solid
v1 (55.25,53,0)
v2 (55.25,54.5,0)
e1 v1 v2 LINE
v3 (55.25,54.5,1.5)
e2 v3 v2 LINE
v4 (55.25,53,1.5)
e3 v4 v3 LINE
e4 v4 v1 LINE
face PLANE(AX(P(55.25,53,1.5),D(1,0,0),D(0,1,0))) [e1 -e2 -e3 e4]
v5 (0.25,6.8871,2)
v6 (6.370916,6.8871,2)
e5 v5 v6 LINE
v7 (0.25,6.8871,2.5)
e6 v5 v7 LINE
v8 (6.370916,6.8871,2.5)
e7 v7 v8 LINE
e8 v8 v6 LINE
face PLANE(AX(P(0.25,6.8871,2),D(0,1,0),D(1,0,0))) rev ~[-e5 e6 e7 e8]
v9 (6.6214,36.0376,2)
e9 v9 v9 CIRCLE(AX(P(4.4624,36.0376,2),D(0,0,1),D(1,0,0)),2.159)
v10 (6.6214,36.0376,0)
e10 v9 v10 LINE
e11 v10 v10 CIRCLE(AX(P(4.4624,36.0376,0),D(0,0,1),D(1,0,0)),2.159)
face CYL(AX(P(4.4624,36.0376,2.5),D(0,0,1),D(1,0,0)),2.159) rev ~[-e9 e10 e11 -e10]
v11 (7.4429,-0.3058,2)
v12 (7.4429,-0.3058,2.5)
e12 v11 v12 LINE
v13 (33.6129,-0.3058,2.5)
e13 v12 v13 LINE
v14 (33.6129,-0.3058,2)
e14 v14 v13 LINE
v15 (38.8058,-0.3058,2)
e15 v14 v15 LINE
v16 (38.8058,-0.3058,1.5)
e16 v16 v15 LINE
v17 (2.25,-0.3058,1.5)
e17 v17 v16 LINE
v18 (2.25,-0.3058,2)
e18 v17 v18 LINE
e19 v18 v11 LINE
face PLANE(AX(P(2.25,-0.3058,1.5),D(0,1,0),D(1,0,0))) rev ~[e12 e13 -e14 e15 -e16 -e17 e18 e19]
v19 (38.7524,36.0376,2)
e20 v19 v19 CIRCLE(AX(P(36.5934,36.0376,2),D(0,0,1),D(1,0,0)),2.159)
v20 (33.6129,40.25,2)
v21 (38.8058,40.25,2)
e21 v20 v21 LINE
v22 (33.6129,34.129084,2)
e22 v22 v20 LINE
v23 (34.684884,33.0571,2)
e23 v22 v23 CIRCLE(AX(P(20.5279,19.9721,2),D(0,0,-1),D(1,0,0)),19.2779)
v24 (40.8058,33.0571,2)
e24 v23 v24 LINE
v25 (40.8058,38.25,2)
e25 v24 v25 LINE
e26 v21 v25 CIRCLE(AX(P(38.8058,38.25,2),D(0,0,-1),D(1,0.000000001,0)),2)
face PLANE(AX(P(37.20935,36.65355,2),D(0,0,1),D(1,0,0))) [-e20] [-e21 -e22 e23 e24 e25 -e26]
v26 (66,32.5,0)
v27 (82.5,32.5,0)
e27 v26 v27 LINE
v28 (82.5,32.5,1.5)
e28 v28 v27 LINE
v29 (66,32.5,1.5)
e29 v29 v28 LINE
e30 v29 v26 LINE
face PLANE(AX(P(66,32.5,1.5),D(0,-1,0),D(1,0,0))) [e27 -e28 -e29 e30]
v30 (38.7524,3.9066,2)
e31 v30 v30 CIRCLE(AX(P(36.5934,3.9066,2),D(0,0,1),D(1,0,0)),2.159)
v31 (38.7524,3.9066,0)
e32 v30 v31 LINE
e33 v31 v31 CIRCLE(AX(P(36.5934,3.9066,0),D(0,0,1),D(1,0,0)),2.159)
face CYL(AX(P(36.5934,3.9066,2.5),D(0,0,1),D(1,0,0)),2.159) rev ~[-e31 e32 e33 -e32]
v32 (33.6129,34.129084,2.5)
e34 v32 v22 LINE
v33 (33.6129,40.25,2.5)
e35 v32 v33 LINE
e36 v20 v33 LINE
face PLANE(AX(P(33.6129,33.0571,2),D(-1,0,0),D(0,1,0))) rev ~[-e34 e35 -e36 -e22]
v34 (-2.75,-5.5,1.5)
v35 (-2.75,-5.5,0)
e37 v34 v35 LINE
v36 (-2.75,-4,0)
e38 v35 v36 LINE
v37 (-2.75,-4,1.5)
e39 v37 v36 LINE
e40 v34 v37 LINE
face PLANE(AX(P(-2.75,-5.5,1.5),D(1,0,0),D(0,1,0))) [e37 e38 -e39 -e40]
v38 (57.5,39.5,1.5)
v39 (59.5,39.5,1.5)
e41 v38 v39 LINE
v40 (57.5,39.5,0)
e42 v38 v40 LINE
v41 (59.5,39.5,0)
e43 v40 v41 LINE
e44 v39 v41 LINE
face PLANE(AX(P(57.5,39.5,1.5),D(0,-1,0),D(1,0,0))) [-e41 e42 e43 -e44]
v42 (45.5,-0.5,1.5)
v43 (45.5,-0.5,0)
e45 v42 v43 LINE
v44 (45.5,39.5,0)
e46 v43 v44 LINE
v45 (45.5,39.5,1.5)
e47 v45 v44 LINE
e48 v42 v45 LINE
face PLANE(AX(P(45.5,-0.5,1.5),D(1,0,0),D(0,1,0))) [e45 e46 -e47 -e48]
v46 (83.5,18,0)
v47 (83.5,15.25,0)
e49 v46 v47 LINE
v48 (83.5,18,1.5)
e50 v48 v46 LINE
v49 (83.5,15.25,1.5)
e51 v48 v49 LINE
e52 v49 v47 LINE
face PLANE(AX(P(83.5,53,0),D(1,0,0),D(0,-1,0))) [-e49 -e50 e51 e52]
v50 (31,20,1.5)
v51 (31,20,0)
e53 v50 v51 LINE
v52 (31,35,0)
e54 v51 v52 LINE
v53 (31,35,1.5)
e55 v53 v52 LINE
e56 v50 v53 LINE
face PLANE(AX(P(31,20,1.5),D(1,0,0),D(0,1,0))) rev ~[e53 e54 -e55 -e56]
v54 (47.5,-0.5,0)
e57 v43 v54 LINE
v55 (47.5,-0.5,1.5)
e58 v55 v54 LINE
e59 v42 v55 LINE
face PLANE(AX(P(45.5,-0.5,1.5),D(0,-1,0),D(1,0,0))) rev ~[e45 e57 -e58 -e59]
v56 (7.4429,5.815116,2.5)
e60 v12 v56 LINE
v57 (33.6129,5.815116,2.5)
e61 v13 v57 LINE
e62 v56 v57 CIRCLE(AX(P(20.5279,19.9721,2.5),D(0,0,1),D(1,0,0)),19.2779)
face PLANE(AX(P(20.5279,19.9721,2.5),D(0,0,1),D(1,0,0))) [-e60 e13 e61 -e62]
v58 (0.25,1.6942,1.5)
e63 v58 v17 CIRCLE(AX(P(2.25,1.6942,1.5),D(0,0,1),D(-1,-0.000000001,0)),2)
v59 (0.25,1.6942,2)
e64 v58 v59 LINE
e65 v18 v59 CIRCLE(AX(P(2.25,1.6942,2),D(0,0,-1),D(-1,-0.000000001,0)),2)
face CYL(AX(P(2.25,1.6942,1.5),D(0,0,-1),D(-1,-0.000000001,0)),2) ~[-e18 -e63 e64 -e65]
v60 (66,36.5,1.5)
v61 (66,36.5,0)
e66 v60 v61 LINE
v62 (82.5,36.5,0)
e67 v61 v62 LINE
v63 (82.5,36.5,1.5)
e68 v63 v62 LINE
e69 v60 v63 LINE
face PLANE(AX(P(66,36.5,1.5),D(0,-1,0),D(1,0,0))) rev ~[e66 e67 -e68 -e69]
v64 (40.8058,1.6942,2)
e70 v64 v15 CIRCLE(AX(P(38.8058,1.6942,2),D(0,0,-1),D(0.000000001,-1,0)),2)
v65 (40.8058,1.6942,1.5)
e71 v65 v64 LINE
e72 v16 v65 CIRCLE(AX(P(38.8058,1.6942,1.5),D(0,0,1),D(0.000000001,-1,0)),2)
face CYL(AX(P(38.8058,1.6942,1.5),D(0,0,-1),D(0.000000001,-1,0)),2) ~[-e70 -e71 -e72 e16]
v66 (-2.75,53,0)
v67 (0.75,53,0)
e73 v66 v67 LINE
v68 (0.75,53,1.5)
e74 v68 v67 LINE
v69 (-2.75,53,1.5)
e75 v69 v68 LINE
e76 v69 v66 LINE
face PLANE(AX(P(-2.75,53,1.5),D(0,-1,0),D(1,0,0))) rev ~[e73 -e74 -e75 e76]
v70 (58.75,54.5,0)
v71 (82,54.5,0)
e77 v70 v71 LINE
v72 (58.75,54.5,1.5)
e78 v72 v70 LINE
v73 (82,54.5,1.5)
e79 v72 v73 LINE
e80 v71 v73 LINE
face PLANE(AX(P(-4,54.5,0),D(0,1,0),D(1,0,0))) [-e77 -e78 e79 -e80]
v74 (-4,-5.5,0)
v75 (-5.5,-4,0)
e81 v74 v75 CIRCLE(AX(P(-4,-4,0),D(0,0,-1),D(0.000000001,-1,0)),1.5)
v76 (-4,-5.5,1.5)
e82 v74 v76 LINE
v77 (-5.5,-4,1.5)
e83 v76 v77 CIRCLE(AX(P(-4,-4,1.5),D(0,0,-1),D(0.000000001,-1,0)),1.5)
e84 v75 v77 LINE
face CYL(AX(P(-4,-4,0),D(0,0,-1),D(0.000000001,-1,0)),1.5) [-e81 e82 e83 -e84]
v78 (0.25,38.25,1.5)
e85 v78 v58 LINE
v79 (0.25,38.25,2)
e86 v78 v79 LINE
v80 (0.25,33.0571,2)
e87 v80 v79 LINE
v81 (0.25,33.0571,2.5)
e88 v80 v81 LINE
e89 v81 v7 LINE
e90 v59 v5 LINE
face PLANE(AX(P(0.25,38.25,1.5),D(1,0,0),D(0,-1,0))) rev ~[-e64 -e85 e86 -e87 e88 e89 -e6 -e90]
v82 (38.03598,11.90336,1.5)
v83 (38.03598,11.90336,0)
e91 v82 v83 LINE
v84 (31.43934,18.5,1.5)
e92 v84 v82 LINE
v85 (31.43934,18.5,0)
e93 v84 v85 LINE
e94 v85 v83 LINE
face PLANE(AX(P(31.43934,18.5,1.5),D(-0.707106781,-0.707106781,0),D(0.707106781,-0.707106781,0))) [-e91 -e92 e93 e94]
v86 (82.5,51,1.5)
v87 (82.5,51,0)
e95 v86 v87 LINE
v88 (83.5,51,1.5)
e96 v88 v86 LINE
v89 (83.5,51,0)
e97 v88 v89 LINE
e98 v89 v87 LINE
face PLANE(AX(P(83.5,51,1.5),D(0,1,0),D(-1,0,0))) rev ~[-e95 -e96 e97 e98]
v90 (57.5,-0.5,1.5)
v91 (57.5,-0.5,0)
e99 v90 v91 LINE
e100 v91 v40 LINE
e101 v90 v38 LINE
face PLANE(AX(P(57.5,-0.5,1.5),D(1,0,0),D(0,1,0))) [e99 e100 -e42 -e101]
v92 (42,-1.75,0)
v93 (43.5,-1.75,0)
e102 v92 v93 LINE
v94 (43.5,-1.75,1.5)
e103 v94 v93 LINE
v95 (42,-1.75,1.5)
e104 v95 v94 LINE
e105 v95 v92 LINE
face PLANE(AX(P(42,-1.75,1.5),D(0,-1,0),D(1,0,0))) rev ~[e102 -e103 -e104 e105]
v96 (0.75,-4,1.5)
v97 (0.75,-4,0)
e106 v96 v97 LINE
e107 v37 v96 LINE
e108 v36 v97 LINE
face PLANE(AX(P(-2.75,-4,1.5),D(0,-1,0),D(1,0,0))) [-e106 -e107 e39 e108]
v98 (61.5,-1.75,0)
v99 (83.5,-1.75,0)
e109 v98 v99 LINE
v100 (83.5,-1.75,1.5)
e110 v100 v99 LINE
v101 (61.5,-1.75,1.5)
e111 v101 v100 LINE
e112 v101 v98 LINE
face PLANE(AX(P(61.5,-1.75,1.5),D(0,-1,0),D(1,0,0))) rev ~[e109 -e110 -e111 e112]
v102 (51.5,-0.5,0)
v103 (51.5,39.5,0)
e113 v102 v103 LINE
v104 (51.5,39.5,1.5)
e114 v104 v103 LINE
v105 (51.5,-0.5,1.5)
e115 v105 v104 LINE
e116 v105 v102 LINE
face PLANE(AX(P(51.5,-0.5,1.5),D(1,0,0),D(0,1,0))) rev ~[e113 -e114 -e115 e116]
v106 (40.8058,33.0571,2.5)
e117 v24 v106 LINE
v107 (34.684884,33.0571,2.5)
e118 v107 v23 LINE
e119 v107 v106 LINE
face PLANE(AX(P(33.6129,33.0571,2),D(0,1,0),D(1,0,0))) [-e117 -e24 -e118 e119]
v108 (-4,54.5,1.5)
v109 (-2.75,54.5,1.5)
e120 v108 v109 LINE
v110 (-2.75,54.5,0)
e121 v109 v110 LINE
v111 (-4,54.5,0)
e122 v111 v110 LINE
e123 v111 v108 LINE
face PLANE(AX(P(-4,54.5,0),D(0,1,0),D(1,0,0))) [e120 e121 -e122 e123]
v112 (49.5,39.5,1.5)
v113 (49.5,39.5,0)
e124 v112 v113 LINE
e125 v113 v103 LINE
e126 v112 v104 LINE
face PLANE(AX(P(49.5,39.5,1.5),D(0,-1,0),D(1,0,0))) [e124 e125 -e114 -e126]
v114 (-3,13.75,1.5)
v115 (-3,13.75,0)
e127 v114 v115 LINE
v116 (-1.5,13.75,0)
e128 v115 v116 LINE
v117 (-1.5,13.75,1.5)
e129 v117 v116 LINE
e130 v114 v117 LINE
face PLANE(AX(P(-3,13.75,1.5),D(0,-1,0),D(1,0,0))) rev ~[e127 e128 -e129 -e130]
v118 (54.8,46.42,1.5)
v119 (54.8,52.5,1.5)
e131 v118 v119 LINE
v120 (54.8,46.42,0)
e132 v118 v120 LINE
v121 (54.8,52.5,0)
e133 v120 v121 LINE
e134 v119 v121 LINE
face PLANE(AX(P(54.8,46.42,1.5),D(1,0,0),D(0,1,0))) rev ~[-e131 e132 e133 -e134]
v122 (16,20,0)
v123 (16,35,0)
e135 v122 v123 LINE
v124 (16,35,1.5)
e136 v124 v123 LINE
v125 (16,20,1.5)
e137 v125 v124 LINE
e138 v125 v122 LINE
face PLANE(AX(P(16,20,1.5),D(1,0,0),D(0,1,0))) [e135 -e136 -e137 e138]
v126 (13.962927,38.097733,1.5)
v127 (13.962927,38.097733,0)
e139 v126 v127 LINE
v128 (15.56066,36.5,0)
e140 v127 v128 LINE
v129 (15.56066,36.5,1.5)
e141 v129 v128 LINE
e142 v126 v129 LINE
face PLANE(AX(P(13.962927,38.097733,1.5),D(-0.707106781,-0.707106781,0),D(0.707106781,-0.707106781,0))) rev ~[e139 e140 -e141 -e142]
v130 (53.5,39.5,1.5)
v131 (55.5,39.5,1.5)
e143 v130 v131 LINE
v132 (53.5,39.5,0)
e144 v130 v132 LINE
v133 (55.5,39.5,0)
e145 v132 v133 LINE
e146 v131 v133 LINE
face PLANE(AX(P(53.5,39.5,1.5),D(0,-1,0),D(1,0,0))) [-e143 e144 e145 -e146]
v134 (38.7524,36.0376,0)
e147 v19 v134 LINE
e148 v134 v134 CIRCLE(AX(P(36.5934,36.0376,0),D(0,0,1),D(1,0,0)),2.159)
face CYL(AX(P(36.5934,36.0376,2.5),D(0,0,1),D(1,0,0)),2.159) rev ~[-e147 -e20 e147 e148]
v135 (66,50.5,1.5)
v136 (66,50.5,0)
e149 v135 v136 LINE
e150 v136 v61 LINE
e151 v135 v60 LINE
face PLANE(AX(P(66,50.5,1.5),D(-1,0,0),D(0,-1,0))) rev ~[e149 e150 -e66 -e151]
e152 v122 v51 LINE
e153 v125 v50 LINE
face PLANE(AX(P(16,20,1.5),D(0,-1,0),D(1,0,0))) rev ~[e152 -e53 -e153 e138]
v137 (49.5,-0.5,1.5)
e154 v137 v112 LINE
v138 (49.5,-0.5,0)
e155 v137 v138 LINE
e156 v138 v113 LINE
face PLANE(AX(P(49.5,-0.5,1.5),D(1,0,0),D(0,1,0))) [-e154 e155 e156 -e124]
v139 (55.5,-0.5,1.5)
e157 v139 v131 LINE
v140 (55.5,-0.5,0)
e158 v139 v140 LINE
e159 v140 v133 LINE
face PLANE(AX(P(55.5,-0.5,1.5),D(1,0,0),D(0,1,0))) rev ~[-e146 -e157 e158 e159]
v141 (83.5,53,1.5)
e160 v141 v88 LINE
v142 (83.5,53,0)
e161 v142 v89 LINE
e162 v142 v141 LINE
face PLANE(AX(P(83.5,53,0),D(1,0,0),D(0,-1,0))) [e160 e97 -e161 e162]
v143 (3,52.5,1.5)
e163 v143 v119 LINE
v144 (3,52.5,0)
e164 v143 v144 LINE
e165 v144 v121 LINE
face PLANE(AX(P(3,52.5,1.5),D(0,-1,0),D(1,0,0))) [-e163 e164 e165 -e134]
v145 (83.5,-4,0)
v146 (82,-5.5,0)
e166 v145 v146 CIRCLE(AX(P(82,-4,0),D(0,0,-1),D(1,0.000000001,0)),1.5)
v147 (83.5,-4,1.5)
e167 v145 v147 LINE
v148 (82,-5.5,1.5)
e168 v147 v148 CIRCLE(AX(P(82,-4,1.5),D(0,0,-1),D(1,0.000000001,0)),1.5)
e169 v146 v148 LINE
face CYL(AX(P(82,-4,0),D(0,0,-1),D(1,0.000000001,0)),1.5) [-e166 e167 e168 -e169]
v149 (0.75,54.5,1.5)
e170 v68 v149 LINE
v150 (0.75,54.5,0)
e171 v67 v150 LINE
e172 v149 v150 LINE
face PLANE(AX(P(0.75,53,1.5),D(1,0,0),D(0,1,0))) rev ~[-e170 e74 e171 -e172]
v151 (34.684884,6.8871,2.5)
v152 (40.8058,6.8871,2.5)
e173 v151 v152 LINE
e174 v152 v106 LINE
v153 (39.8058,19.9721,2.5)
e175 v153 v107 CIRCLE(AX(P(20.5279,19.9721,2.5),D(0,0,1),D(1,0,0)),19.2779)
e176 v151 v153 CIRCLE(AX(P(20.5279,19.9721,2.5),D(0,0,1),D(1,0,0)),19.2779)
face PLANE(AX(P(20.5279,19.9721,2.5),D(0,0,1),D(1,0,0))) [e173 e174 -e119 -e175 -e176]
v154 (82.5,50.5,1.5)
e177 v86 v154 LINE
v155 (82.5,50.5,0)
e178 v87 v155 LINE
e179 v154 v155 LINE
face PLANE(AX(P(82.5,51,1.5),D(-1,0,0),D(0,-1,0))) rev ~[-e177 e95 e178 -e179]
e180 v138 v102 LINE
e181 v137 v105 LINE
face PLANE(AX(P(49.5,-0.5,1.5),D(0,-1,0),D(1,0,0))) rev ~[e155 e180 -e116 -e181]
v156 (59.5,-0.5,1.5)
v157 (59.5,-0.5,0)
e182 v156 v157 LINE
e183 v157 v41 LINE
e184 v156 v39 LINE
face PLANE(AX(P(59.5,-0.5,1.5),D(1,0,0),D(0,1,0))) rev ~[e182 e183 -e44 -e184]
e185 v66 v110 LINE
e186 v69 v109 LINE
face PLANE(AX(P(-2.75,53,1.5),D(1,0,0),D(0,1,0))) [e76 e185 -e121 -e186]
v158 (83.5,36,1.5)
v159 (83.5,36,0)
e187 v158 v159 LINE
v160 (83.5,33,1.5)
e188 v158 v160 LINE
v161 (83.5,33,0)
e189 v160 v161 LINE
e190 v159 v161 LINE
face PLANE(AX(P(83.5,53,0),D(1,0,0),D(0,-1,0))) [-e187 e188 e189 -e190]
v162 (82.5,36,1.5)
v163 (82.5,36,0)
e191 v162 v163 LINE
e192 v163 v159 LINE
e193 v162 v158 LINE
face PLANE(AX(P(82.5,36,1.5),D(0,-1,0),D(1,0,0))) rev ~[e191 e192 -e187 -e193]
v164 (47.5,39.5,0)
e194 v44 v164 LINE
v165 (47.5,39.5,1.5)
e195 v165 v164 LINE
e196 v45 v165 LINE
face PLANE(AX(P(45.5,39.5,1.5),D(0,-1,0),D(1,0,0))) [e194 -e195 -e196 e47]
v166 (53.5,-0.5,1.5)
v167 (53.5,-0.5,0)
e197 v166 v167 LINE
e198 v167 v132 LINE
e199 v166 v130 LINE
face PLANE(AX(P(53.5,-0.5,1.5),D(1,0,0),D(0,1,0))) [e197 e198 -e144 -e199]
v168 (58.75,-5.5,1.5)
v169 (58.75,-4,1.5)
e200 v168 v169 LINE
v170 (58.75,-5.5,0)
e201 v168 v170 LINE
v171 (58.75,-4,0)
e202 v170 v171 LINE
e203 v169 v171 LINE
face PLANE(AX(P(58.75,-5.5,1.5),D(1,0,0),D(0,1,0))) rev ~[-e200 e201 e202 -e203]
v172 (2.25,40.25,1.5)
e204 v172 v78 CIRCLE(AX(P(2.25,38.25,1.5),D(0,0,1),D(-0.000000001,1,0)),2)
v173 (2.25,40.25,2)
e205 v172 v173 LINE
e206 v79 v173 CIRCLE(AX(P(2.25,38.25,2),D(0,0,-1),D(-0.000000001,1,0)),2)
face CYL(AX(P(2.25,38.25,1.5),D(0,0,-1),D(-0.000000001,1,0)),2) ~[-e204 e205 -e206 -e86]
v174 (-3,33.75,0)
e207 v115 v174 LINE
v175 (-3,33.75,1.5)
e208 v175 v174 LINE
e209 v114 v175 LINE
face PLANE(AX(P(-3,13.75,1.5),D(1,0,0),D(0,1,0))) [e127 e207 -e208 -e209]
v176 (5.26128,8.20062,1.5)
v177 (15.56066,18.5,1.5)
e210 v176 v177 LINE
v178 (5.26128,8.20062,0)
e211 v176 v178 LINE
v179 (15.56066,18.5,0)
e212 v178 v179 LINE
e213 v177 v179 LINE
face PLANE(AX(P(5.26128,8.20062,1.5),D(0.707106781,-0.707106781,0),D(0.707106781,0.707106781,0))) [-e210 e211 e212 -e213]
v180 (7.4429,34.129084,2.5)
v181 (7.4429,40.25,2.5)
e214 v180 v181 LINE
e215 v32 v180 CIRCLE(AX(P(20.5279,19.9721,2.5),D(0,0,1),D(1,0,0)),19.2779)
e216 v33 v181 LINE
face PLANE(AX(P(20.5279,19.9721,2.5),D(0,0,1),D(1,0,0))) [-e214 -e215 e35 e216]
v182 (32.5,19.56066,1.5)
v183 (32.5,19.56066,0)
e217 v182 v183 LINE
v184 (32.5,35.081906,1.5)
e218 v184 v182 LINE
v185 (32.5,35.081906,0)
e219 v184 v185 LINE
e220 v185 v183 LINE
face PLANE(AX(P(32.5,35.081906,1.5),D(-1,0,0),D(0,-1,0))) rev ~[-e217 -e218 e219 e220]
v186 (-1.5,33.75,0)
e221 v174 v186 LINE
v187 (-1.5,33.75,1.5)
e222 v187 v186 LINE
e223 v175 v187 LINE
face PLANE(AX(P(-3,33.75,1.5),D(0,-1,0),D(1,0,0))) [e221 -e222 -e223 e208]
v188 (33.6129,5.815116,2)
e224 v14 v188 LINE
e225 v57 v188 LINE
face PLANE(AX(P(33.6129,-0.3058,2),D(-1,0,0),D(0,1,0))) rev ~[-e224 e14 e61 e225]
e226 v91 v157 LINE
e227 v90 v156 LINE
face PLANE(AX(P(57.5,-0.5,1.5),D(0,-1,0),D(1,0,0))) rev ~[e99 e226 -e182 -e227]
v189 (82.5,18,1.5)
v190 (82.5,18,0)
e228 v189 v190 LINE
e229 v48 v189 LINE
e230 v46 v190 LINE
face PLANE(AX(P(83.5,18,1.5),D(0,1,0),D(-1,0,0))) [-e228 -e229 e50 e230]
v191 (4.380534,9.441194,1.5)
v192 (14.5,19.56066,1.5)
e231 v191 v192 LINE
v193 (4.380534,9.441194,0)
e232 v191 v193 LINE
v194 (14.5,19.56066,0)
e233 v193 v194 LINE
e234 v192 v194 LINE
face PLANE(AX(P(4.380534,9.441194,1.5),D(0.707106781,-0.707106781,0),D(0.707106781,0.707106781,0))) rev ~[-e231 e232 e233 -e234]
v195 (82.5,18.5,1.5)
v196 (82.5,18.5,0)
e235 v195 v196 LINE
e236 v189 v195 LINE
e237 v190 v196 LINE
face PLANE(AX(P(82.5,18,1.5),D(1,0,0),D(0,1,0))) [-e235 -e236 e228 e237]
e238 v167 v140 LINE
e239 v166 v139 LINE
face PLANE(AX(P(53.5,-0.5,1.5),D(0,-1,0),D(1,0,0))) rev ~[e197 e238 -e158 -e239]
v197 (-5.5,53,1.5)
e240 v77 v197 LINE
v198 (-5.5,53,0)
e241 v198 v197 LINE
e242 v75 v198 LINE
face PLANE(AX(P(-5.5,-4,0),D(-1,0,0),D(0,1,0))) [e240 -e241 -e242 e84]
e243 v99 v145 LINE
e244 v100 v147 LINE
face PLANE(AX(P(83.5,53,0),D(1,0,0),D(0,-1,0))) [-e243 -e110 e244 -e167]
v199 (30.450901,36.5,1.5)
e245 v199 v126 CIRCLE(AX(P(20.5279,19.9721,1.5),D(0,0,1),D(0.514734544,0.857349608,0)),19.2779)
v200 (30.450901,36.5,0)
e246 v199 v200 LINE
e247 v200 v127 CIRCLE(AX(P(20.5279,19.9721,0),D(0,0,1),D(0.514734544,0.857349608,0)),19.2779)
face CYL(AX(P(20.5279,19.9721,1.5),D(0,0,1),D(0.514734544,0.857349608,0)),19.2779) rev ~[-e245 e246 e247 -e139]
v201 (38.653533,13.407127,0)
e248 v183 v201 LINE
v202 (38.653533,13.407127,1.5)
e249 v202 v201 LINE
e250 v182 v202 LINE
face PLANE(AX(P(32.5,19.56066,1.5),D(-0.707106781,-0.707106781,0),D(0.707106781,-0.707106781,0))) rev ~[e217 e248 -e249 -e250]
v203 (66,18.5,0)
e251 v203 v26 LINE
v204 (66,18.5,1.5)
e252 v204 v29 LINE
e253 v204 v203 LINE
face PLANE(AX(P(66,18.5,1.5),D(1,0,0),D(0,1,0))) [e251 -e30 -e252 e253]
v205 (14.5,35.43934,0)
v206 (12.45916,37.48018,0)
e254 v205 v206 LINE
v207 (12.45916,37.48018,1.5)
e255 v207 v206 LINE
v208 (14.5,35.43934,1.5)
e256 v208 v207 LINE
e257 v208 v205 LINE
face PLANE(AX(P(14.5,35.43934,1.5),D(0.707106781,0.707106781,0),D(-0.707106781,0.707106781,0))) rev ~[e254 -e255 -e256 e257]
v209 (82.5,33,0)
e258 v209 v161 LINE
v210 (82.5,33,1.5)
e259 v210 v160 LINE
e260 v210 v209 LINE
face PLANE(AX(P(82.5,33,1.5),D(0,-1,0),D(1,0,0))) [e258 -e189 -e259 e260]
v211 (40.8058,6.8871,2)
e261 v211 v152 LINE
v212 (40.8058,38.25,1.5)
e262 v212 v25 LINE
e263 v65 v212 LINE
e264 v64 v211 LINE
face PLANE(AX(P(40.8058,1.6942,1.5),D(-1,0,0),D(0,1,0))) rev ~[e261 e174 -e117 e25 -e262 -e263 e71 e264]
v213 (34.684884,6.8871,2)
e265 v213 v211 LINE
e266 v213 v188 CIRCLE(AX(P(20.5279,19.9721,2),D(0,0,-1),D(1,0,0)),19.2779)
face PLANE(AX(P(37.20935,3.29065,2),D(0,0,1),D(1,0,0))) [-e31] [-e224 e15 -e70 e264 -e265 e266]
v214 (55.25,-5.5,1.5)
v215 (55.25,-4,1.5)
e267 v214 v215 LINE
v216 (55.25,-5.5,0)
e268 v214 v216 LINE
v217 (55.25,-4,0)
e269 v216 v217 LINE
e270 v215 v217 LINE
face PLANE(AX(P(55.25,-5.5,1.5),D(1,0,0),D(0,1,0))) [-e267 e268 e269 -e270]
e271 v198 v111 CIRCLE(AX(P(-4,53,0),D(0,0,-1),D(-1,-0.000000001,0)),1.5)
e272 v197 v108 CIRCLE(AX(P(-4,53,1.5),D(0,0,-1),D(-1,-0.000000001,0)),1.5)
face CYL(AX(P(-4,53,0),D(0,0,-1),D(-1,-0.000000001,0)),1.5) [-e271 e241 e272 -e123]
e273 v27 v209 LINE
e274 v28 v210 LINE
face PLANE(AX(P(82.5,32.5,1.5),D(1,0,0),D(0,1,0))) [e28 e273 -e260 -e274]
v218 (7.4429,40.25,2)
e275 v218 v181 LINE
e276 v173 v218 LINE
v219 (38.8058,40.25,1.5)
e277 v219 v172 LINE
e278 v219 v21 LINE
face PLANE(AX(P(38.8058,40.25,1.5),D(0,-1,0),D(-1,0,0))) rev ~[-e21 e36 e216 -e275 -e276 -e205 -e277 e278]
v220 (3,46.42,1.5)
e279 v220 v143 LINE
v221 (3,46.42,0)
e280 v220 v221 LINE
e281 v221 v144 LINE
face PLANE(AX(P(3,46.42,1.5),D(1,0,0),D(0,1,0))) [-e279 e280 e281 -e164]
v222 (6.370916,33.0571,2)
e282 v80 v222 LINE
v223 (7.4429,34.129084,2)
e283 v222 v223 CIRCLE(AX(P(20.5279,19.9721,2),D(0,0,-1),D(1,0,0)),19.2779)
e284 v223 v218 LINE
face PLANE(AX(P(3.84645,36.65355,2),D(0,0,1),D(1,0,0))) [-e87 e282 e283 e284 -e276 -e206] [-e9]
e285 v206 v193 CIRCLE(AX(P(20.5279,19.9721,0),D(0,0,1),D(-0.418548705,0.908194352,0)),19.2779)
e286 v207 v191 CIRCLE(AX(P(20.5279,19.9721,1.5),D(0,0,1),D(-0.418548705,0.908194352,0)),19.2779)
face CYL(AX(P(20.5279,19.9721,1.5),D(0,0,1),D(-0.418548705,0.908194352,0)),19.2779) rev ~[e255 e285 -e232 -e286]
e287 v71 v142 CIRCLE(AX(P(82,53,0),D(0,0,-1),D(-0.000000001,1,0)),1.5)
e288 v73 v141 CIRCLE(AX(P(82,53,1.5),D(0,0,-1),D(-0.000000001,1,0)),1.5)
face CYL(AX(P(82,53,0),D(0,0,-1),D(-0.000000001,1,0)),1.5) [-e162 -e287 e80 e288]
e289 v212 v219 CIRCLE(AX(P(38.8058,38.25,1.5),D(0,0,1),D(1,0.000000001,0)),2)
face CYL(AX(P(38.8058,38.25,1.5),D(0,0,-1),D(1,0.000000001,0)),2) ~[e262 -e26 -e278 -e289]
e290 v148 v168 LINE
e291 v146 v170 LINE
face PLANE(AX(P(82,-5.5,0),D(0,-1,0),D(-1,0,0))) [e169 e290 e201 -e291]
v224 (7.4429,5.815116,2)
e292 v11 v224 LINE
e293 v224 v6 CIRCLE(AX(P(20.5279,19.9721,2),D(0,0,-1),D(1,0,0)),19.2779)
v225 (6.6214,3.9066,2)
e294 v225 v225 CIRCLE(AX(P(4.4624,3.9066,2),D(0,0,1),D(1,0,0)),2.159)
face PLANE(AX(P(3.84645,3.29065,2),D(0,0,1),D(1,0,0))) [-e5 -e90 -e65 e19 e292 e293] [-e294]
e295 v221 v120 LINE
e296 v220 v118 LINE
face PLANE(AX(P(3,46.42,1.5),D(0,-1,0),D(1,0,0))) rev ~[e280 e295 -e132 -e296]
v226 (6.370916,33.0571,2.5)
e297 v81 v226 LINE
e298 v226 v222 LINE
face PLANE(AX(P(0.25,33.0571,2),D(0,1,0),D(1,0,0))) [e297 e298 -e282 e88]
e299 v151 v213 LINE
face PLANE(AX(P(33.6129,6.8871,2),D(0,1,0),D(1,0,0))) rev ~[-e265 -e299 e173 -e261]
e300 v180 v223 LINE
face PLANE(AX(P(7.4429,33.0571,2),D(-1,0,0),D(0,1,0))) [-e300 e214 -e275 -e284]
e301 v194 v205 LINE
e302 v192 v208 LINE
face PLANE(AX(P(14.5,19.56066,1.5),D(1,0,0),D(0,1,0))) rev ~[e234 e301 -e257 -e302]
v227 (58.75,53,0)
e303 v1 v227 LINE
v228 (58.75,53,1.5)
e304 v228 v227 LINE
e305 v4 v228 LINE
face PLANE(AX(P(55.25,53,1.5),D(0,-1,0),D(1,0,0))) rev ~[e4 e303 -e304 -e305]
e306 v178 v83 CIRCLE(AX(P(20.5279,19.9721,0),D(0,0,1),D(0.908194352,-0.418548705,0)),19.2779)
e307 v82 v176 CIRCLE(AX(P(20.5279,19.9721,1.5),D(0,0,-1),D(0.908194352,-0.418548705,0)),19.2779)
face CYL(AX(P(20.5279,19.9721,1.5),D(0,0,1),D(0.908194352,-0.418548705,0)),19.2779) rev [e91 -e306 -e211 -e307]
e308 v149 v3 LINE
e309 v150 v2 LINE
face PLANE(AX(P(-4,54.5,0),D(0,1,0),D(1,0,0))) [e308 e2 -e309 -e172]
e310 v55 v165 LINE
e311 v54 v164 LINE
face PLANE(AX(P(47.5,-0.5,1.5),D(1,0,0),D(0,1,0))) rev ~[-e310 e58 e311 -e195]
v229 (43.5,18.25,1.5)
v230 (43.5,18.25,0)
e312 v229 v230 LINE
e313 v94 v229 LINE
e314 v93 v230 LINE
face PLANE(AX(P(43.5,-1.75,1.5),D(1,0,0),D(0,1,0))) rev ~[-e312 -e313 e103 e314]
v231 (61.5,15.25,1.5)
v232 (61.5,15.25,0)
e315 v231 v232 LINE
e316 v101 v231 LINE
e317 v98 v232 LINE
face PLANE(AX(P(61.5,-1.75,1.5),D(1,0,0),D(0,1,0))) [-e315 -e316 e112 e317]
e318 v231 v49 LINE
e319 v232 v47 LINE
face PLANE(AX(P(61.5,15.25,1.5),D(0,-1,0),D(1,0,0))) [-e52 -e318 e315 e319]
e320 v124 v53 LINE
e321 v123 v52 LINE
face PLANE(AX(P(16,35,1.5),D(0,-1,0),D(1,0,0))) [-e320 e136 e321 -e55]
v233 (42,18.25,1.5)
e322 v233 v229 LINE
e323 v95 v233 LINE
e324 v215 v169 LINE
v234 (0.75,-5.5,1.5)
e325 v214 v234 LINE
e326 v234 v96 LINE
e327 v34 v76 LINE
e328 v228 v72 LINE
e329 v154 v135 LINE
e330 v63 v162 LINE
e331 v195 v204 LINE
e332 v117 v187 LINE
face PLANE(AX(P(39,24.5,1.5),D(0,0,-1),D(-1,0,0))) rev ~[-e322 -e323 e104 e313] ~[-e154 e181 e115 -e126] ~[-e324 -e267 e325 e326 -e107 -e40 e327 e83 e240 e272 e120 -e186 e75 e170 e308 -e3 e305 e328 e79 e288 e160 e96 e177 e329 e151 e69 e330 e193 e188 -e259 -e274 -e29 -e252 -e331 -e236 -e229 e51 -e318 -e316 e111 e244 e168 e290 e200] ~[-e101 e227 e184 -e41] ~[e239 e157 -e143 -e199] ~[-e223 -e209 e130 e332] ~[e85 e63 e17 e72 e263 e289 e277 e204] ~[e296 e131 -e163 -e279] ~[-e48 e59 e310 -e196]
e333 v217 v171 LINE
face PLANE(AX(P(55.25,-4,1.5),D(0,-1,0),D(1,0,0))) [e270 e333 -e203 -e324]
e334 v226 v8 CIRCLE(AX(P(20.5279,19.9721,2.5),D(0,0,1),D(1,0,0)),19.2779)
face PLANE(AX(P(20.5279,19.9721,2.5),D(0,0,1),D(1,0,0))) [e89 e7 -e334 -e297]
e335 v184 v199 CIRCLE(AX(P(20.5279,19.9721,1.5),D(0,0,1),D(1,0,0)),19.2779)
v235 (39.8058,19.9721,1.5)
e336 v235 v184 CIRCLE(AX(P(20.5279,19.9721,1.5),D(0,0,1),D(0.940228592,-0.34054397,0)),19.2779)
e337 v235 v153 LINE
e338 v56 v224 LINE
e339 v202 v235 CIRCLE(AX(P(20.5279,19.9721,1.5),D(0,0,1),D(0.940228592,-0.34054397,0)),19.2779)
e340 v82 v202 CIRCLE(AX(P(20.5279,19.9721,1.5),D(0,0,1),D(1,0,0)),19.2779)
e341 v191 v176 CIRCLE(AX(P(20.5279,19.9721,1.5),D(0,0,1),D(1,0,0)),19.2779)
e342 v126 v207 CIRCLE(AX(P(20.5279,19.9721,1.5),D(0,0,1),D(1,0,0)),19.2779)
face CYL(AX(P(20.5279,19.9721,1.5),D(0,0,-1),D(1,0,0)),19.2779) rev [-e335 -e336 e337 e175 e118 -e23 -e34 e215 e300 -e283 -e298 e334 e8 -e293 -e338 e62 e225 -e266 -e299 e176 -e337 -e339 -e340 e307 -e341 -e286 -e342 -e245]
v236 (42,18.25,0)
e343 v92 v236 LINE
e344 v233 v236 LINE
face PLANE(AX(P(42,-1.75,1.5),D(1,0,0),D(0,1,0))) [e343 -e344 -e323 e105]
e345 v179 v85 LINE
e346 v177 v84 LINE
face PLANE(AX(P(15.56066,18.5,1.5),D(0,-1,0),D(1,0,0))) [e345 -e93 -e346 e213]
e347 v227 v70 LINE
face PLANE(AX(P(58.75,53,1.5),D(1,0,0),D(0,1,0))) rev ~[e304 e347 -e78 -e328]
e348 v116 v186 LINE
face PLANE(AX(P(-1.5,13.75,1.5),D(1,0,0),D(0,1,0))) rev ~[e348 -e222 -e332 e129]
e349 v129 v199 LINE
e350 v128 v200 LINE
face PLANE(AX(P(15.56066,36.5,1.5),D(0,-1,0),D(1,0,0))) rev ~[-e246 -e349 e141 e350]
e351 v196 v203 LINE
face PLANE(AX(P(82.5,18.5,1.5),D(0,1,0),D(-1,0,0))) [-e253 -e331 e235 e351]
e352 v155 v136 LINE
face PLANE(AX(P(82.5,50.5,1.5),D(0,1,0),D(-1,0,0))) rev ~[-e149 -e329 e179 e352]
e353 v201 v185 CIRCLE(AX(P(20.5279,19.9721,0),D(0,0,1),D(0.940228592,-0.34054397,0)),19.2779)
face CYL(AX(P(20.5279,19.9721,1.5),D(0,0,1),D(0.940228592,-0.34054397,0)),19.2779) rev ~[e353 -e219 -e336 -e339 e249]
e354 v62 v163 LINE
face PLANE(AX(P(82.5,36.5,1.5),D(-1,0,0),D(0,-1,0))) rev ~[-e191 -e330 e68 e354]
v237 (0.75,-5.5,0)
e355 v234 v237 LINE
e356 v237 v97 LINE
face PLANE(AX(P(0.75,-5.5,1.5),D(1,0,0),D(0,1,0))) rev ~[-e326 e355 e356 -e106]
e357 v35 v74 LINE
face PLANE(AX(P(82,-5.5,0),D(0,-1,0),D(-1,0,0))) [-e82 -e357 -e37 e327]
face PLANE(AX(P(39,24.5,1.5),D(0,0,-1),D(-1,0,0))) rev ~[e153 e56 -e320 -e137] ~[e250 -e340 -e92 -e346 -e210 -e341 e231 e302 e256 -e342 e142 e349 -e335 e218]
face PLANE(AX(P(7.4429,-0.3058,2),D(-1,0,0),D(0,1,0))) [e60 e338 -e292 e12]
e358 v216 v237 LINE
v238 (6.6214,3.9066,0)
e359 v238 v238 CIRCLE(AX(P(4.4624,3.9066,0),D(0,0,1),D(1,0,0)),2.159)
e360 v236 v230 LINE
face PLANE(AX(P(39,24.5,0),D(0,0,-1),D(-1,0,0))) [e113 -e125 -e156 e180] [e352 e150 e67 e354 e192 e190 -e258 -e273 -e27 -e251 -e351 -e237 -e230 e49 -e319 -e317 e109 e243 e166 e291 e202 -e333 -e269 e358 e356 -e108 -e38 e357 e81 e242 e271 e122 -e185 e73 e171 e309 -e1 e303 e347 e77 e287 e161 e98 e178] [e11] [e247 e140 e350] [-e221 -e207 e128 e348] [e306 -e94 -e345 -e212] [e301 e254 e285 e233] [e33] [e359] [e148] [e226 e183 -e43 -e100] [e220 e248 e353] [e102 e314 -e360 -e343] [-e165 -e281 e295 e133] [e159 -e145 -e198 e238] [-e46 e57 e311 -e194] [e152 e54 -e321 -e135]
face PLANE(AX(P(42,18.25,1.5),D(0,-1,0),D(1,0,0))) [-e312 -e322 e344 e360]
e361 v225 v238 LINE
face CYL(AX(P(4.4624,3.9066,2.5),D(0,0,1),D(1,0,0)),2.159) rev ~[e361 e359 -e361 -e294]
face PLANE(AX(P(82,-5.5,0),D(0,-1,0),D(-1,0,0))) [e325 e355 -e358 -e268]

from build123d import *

# Parameters (mm, degrees)
BOSS_EXTRUDE1_DEPTH = 1.5
CUT_EXTRUDE1_REACH  = 3.5
SKETCH2_W           = 22
SKETCH2_H           = 17
SKETCH2_W_2         = 15
SKETCH2_H_2         = 15
SKETCH2_W_3         = 51.8
SKETCH2_H_3         = 6.08
SKETCH2_W_4         = 3.5
SKETCH2_H_4         = 1.5
SKETCH2_W_5         = 1.5
SKETCH2_H_5         = 20
SKETCH2_W_6         = 2
SKETCH2_H_6         = 40
SKETCH4_R           = 19.2779
BOSS_EXTRUDE2_DEPTH = 1
SKETCH5_R           = 2.159
CUT_EXTRUDE2_DEPTH  = 3.5
CUT_EXTRUDE3_START  = -0.5
SKETCH6_W           = 7.1929
SKETCH6_H           = 7.1929
CUT_EXTRUDE3_DEPTH  = 0.5


with BuildPart() as part:
    # Sketch1 → Boss-Extrude1 (new body)
    with BuildSketch(Plane.XY):
        with BuildLine():
            Line((-4, 54.5), (82, 54.5))
            ThreePointArc((82, 54.5), (83.060660172, 54.060660172), (83.5, 53))
            Line((83.5, 53), (83.5, -4))
            ThreePointArc((83.5, -4), (83.060660172, -5.060660172), (82, -5.5))
            Line((82, -5.5), (-4, -5.5))
            ThreePointArc((-4, -5.5), (-5.060660172, -5.060660172), (-5.5, -4))
            Line((-5.5, -4), (-5.5, 53))
            ThreePointArc((-5.5, 53), (-5.060660172, 54.060660172), (-4, 54.5))
        make_face()
    extrude(amount=BOSS_EXTRUDE1_DEPTH)

    # Sketch2 → Cut-Extrude1 (cut, up to next)
    with BuildSketch(Plane.XY.offset(1.5), mode=Mode.PRIVATE) as cut_extrude1_sk1:
        with Locations((72.5, 6.75)):
            Rectangle(SKETCH2_W, SKETCH2_H)
    cut_extrude1_tool1 = extrude(cut_extrude1_sk1.sketch, amount=-CUT_EXTRUDE1_REACH, mode=Mode.PRIVATE) & part.part
    add(cut_extrude1_tool1.solids().sort_by_distance((72.5, 6.75, 1.5))[0], mode=Mode.SUBTRACT)
    # Sketch2 → Cut-Extrude1 (cut, up to next)
    with BuildSketch(Plane.XY.offset(1.5), mode=Mode.PRIVATE) as cut_extrude1_sk2:
        with BuildLine():
            Line((14.5, 19.560660172), (14.5, 35.439339828))
            Line((14.5, 35.439339828), (12.459159923, 37.480179905))
            ThreePointArc((12.459159923, 37.480179905), (2.00356089, 25.309354814), (4.380533586, 9.441193757))
            Line((4.380533586, 9.441193757), (14.5, 19.560660172))
        make_face()
    cut_extrude1_tool2 = extrude(cut_extrude1_sk2.sketch, amount=-CUT_EXTRUDE1_REACH, mode=Mode.PRIVATE) & part.part
    add(cut_extrude1_tool2.solids().sort_by_distance((8.18014, 23.815992, 1.5))[0], mode=Mode.SUBTRACT)
    # Sketch2 → Cut-Extrude1 (cut, up to next)
    with BuildSketch(Plane.XY.offset(1.5), mode=Mode.PRIVATE) as cut_extrude1_sk3:
        Polygon((83.5, 18), (82.5, 18), (82.5, 18.5), (66, 18.5), (66, 32.5), (82.5, 32.5), (82.5, 33), (83.5, 33), align=None)
    cut_extrude1_tool3 = extrude(cut_extrude1_sk3.sketch, amount=-CUT_EXTRUDE1_REACH, mode=Mode.PRIVATE) & part.part
    add(cut_extrude1_tool3.solids().sort_by_distance((74.783537, 25.5, 1.5))[0], mode=Mode.SUBTRACT)
    # Sketch2 → Cut-Extrude1 (cut, up to next)
    with BuildSketch(Plane.XY.offset(1.5), mode=Mode.PRIVATE) as cut_extrude1_sk4:
        with BuildLine():
            Line((32.5, 35.081906418), (32.5, 19.560660172))
            Line((32.5, 19.560660172), (38.653532768, 13.407127404))
            ThreePointArc((38.653532768, 13.407127404), (39.072909862, 25.237082207), (32.5, 35.081906418))
        make_face()
    cut_extrude1_tool4 = extrude(cut_extrude1_sk4.sketch, amount=-CUT_EXTRUDE1_REACH, mode=Mode.PRIVATE) & part.part
    add(cut_extrude1_tool4.solids().sort_by_distance((35.862827, 23.7395, 1.5))[0], mode=Mode.SUBTRACT)
    # Sketch2 → Cut-Extrude1 (cut, up to next)
    with BuildSketch(Plane.XY.offset(1.5), mode=Mode.PRIVATE) as cut_extrude1_sk5:
        Polygon((66, 36.5), (82.5, 36.5), (82.5, 36), (83.5, 36), (83.5, 51), (82.5, 51), (82.5, 50.5), (66, 50.5), align=None)
    cut_extrude1_tool5 = extrude(cut_extrude1_sk5.sketch, amount=-CUT_EXTRUDE1_REACH, mode=Mode.PRIVATE) & part.part
    add(cut_extrude1_tool5.solids().sort_by_distance((74.783537, 43.5, 1.5))[0], mode=Mode.SUBTRACT)
    # Sketch2 → Cut-Extrude1 (cut, up to next)
    with BuildSketch(Plane.XY.offset(1.5), mode=Mode.PRIVATE) as cut_extrude1_sk6:
        with Locations((23.5, 27.5)):
            Rectangle(SKETCH2_W_2, SKETCH2_H_2)
    cut_extrude1_tool6 = extrude(cut_extrude1_sk6.sketch, amount=-CUT_EXTRUDE1_REACH, mode=Mode.PRIVATE) & part.part
    add(cut_extrude1_tool6.solids().sort_by_distance((23.5, 27.5, 1.5))[0], mode=Mode.SUBTRACT)
    # Sketch2 → Cut-Extrude1 (cut, up to next)
    with BuildSketch(Plane.XY.offset(1.5), mode=Mode.PRIVATE) as cut_extrude1_sk7:
        with Locations((28.9, 49.46)):
            Rectangle(SKETCH2_W_3, SKETCH2_H_3)
    cut_extrude1_tool7 = extrude(cut_extrude1_sk7.sketch, amount=-CUT_EXTRUDE1_REACH, mode=Mode.PRIVATE) & part.part
    add(cut_extrude1_tool7.solids().sort_by_distance((28.9, 49.46, 1.5))[0], mode=Mode.SUBTRACT)
    # Sketch2 → Cut-Extrude1 (cut, up to next)
    with BuildSketch(Plane.XY.offset(1.5), mode=Mode.PRIVATE) as cut_extrude1_sk8:
        with BuildLine():
            Line((15.560660172, 36.5), (30.450901058, 36.5))
            ThreePointArc((30.450901058, 36.5), (22.387275241, 39.160121058), (13.962927404, 38.097732768))
            Line((13.962927404, 38.097732768), (15.560660172, 36.5))
        make_face()
    cut_extrude1_tool8 = extrude(cut_extrude1_sk8.sketch, amount=-CUT_EXTRUDE1_REACH, mode=Mode.PRIVATE) & part.part
    add(cut_extrude1_tool8.solids().sort_by_distance((21.448512, 37.678321, 1.5))[0], mode=Mode.SUBTRACT)
    # Sketch2 → Cut-Extrude1 (cut, up to next)
    with BuildSketch(Plane.XY.offset(1.5), mode=Mode.PRIVATE) as cut_extrude1_sk9:
        with BuildLine():
            Line((5.26128006, 8.200619888), (15.560660172, 18.5))
            Line((15.560660172, 18.5), (31.439339828, 18.5))
            Line((31.439339828, 18.5), (38.035979905, 11.903359923))
            ThreePointArc((38.035979905, 11.903359923), (22.692064189, 0.816061219), (5.26128006, 8.200619888))
        make_face()
    cut_extrude1_tool9 = extrude(cut_extrude1_sk9.sketch, amount=-CUT_EXTRUDE1_REACH, mode=Mode.PRIVATE) & part.part
    add(cut_extrude1_tool9.solids().sort_by_distance((21.981845, 9.881453, 1.5))[0], mode=Mode.SUBTRACT)
    # Sketch2 → Cut-Extrude1 (cut, up to next)
    with BuildSketch(Plane.XY.offset(1.5), mode=Mode.PRIVATE) as cut_extrude1_sk10:
        with Locations((57, -4.75)):
            Rectangle(SKETCH2_W_4, SKETCH2_H_4)
    cut_extrude1_tool10 = extrude(cut_extrude1_sk10.sketch, amount=-CUT_EXTRUDE1_REACH, mode=Mode.PRIVATE) & part.part
    add(cut_extrude1_tool10.solids().sort_by_distance((57, -4.75, 1.5))[0], mode=Mode.SUBTRACT)
    # Sketch2 → Cut-Extrude1 (cut, up to next)
    with BuildSketch(Plane.XY.offset(1.5), mode=Mode.PRIVATE) as cut_extrude1_sk11:
        with Locations((-1, 53.75)):
            Rectangle(SKETCH2_W_4, SKETCH2_H_4)
    cut_extrude1_tool11 = extrude(cut_extrude1_sk11.sketch, amount=-CUT_EXTRUDE1_REACH, mode=Mode.PRIVATE) & part.part
    add(cut_extrude1_tool11.solids().sort_by_distance((-1, 53.75, 1.5))[0], mode=Mode.SUBTRACT)
    # Sketch2 → Cut-Extrude1 (cut, up to next)
    with BuildSketch(Plane.XY.offset(1.5), mode=Mode.PRIVATE) as cut_extrude1_sk12:
        with Locations((-1, -4.75)):
            Rectangle(SKETCH2_W_4, SKETCH2_H_4)
    cut_extrude1_tool12 = extrude(cut_extrude1_sk12.sketch, amount=-CUT_EXTRUDE1_REACH, mode=Mode.PRIVATE) & part.part
    add(cut_extrude1_tool12.solids().sort_by_distance((-1, -4.75, 1.5))[0], mode=Mode.SUBTRACT)
    # Sketch2 → Cut-Extrude1 (cut, up to next)
    with BuildSketch(Plane.XY.offset(1.5), mode=Mode.PRIVATE) as cut_extrude1_sk13:
        with Locations((57, 53.75)):
            Rectangle(SKETCH2_W_4, SKETCH2_H_4)
    cut_extrude1_tool13 = extrude(cut_extrude1_sk13.sketch, amount=-CUT_EXTRUDE1_REACH, mode=Mode.PRIVATE) & part.part
    add(cut_extrude1_tool13.solids().sort_by_distance((57, 53.75, 1.5))[0], mode=Mode.SUBTRACT)
    # Sketch2 → Cut-Extrude1 (cut, up to next)
    with BuildSketch(Plane.XY.offset(1.5), mode=Mode.PRIVATE) as cut_extrude1_sk14:
        with Locations((-2.25, 23.75)):
            Rectangle(SKETCH2_W_5, SKETCH2_H_5)
    cut_extrude1_tool14 = extrude(cut_extrude1_sk14.sketch, amount=-CUT_EXTRUDE1_REACH, mode=Mode.PRIVATE) & part.part
    add(cut_extrude1_tool14.solids().sort_by_distance((-2.25, 23.75, 1.5))[0], mode=Mode.SUBTRACT)
    # Sketch2 → Cut-Extrude1 (cut, up to next)
    with BuildSketch(Plane.XY.offset(1.5), mode=Mode.PRIVATE) as cut_extrude1_sk15:
        with Locations((42.75, 8.25)):
            Rectangle(SKETCH2_W_5, SKETCH2_H_5)
    cut_extrude1_tool15 = extrude(cut_extrude1_sk15.sketch, amount=-CUT_EXTRUDE1_REACH, mode=Mode.PRIVATE) & part.part
    add(cut_extrude1_tool15.solids().sort_by_distance((42.75, 8.25, 1.5))[0], mode=Mode.SUBTRACT)
    # Sketch2 → Cut-Extrude1 (cut, up to next)
    with BuildSketch(Plane.XY.offset(1.5), mode=Mode.PRIVATE) as cut_extrude1_sk16:
        with Locations((50.5, 19.5)):
            Rectangle(SKETCH2_W_6, SKETCH2_H_6)
    cut_extrude1_tool16 = extrude(cut_extrude1_sk16.sketch, amount=-CUT_EXTRUDE1_REACH, mode=Mode.PRIVATE) & part.part
    add(cut_extrude1_tool16.solids().sort_by_distance((50.5, 19.5, 1.5))[0], mode=Mode.SUBTRACT)
    # Sketch2 → Cut-Extrude1 (cut, up to next)
    with BuildSketch(Plane.XY.offset(1.5), mode=Mode.PRIVATE) as cut_extrude1_sk17:
        with Locations((46.5, 19.5)):
            Rectangle(SKETCH2_W_6, SKETCH2_H_6)
    cut_extrude1_tool17 = extrude(cut_extrude1_sk17.sketch, amount=-CUT_EXTRUDE1_REACH, mode=Mode.PRIVATE) & part.part
    add(cut_extrude1_tool17.solids().sort_by_distance((46.5, 19.5, 1.5))[0], mode=Mode.SUBTRACT)
    # Sketch2 → Cut-Extrude1 (cut, up to next)
    with BuildSketch(Plane.XY.offset(1.5), mode=Mode.PRIVATE) as cut_extrude1_sk18:
        with Locations((54.5, 19.5)):
            Rectangle(SKETCH2_W_6, SKETCH2_H_6)
    cut_extrude1_tool18 = extrude(cut_extrude1_sk18.sketch, amount=-CUT_EXTRUDE1_REACH, mode=Mode.PRIVATE) & part.part
    add(cut_extrude1_tool18.solids().sort_by_distance((54.5, 19.5, 1.5))[0], mode=Mode.SUBTRACT)
    # Sketch2 → Cut-Extrude1 (cut, up to next)
    with BuildSketch(Plane.XY.offset(1.5), mode=Mode.PRIVATE) as cut_extrude1_sk19:
        with Locations((58.5, 19.5)):
            Rectangle(SKETCH2_W_6, SKETCH2_H_6)
    cut_extrude1_tool19 = extrude(cut_extrude1_sk19.sketch, amount=-CUT_EXTRUDE1_REACH, mode=Mode.PRIVATE) & part.part
    add(cut_extrude1_tool19.solids().sort_by_distance((58.5, 19.5, 1.5))[0], mode=Mode.SUBTRACT)

    # Sketch4 → Boss-Extrude2 (add)
    with BuildSketch(Plane.XY.offset(1.5)):
        with BuildLine():
            Line((38.8058, 40.25), (2.25, 40.25))
            ThreePointArc((2.25, 40.25), (0.835786438, 39.664213562), (0.25, 38.25))
            Line((0.25, 38.25), (0.25, 1.6942))
            ThreePointArc((0.25, 1.6942), (0.835786438, 0.279986438), (2.25, -0.3058))
            Line((2.25, -0.3058), (38.8058, -0.3058))
            ThreePointArc((38.8058, -0.3058), (40.220013562, 0.279986438), (40.8058, 1.6942))
            Line((40.8058, 1.6942), (40.8058, 38.25))
            ThreePointArc((40.8058, 38.25), (40.220013562, 39.664213562), (38.8058, 40.25))
        make_face()
        with Locations((20.5279, 19.9721)):
            Circle(SKETCH4_R, mode=Mode.SUBTRACT)
    extrude(amount=BOSS_EXTRUDE2_DEPTH)

    # Sketch5 → Cut-Extrude2 (cut, through all)
    with BuildSketch(Plane.XY.offset(2.5)):
        with Locations((4.4624, 36.0376)):
            Circle(SKETCH5_R)
        with Locations((36.5934, 36.0376)):
            Circle(SKETCH5_R)
        with Locations((36.5934, 3.9066)):
            Circle(SKETCH5_R)
        with Locations((4.4624, 3.9066)):
            Circle(SKETCH5_R)
    extrude(amount=-CUT_EXTRUDE2_DEPTH, mode=Mode.SUBTRACT)

    # Sketch6 → Cut-Extrude3 (cut)
    with BuildSketch(Plane.XY.offset(2.5).offset(CUT_EXTRUDE3_START)):
        with Locations((37.20935, 3.29065)):
            Rectangle(SKETCH6_W, SKETCH6_H)
        with Locations((37.20935, 36.65355)):
            Rectangle(SKETCH6_W, SKETCH6_H)
        with Locations((3.84645, 3.29065)):
            Rectangle(SKETCH6_W, SKETCH6_H)
        with Locations((3.84645, 36.65355)):
            Rectangle(SKETCH6_W, SKETCH6_H)
    extrude(amount=CUT_EXTRUDE3_DEPTH, mode=Mode.SUBTRACT)


solid = part.part
